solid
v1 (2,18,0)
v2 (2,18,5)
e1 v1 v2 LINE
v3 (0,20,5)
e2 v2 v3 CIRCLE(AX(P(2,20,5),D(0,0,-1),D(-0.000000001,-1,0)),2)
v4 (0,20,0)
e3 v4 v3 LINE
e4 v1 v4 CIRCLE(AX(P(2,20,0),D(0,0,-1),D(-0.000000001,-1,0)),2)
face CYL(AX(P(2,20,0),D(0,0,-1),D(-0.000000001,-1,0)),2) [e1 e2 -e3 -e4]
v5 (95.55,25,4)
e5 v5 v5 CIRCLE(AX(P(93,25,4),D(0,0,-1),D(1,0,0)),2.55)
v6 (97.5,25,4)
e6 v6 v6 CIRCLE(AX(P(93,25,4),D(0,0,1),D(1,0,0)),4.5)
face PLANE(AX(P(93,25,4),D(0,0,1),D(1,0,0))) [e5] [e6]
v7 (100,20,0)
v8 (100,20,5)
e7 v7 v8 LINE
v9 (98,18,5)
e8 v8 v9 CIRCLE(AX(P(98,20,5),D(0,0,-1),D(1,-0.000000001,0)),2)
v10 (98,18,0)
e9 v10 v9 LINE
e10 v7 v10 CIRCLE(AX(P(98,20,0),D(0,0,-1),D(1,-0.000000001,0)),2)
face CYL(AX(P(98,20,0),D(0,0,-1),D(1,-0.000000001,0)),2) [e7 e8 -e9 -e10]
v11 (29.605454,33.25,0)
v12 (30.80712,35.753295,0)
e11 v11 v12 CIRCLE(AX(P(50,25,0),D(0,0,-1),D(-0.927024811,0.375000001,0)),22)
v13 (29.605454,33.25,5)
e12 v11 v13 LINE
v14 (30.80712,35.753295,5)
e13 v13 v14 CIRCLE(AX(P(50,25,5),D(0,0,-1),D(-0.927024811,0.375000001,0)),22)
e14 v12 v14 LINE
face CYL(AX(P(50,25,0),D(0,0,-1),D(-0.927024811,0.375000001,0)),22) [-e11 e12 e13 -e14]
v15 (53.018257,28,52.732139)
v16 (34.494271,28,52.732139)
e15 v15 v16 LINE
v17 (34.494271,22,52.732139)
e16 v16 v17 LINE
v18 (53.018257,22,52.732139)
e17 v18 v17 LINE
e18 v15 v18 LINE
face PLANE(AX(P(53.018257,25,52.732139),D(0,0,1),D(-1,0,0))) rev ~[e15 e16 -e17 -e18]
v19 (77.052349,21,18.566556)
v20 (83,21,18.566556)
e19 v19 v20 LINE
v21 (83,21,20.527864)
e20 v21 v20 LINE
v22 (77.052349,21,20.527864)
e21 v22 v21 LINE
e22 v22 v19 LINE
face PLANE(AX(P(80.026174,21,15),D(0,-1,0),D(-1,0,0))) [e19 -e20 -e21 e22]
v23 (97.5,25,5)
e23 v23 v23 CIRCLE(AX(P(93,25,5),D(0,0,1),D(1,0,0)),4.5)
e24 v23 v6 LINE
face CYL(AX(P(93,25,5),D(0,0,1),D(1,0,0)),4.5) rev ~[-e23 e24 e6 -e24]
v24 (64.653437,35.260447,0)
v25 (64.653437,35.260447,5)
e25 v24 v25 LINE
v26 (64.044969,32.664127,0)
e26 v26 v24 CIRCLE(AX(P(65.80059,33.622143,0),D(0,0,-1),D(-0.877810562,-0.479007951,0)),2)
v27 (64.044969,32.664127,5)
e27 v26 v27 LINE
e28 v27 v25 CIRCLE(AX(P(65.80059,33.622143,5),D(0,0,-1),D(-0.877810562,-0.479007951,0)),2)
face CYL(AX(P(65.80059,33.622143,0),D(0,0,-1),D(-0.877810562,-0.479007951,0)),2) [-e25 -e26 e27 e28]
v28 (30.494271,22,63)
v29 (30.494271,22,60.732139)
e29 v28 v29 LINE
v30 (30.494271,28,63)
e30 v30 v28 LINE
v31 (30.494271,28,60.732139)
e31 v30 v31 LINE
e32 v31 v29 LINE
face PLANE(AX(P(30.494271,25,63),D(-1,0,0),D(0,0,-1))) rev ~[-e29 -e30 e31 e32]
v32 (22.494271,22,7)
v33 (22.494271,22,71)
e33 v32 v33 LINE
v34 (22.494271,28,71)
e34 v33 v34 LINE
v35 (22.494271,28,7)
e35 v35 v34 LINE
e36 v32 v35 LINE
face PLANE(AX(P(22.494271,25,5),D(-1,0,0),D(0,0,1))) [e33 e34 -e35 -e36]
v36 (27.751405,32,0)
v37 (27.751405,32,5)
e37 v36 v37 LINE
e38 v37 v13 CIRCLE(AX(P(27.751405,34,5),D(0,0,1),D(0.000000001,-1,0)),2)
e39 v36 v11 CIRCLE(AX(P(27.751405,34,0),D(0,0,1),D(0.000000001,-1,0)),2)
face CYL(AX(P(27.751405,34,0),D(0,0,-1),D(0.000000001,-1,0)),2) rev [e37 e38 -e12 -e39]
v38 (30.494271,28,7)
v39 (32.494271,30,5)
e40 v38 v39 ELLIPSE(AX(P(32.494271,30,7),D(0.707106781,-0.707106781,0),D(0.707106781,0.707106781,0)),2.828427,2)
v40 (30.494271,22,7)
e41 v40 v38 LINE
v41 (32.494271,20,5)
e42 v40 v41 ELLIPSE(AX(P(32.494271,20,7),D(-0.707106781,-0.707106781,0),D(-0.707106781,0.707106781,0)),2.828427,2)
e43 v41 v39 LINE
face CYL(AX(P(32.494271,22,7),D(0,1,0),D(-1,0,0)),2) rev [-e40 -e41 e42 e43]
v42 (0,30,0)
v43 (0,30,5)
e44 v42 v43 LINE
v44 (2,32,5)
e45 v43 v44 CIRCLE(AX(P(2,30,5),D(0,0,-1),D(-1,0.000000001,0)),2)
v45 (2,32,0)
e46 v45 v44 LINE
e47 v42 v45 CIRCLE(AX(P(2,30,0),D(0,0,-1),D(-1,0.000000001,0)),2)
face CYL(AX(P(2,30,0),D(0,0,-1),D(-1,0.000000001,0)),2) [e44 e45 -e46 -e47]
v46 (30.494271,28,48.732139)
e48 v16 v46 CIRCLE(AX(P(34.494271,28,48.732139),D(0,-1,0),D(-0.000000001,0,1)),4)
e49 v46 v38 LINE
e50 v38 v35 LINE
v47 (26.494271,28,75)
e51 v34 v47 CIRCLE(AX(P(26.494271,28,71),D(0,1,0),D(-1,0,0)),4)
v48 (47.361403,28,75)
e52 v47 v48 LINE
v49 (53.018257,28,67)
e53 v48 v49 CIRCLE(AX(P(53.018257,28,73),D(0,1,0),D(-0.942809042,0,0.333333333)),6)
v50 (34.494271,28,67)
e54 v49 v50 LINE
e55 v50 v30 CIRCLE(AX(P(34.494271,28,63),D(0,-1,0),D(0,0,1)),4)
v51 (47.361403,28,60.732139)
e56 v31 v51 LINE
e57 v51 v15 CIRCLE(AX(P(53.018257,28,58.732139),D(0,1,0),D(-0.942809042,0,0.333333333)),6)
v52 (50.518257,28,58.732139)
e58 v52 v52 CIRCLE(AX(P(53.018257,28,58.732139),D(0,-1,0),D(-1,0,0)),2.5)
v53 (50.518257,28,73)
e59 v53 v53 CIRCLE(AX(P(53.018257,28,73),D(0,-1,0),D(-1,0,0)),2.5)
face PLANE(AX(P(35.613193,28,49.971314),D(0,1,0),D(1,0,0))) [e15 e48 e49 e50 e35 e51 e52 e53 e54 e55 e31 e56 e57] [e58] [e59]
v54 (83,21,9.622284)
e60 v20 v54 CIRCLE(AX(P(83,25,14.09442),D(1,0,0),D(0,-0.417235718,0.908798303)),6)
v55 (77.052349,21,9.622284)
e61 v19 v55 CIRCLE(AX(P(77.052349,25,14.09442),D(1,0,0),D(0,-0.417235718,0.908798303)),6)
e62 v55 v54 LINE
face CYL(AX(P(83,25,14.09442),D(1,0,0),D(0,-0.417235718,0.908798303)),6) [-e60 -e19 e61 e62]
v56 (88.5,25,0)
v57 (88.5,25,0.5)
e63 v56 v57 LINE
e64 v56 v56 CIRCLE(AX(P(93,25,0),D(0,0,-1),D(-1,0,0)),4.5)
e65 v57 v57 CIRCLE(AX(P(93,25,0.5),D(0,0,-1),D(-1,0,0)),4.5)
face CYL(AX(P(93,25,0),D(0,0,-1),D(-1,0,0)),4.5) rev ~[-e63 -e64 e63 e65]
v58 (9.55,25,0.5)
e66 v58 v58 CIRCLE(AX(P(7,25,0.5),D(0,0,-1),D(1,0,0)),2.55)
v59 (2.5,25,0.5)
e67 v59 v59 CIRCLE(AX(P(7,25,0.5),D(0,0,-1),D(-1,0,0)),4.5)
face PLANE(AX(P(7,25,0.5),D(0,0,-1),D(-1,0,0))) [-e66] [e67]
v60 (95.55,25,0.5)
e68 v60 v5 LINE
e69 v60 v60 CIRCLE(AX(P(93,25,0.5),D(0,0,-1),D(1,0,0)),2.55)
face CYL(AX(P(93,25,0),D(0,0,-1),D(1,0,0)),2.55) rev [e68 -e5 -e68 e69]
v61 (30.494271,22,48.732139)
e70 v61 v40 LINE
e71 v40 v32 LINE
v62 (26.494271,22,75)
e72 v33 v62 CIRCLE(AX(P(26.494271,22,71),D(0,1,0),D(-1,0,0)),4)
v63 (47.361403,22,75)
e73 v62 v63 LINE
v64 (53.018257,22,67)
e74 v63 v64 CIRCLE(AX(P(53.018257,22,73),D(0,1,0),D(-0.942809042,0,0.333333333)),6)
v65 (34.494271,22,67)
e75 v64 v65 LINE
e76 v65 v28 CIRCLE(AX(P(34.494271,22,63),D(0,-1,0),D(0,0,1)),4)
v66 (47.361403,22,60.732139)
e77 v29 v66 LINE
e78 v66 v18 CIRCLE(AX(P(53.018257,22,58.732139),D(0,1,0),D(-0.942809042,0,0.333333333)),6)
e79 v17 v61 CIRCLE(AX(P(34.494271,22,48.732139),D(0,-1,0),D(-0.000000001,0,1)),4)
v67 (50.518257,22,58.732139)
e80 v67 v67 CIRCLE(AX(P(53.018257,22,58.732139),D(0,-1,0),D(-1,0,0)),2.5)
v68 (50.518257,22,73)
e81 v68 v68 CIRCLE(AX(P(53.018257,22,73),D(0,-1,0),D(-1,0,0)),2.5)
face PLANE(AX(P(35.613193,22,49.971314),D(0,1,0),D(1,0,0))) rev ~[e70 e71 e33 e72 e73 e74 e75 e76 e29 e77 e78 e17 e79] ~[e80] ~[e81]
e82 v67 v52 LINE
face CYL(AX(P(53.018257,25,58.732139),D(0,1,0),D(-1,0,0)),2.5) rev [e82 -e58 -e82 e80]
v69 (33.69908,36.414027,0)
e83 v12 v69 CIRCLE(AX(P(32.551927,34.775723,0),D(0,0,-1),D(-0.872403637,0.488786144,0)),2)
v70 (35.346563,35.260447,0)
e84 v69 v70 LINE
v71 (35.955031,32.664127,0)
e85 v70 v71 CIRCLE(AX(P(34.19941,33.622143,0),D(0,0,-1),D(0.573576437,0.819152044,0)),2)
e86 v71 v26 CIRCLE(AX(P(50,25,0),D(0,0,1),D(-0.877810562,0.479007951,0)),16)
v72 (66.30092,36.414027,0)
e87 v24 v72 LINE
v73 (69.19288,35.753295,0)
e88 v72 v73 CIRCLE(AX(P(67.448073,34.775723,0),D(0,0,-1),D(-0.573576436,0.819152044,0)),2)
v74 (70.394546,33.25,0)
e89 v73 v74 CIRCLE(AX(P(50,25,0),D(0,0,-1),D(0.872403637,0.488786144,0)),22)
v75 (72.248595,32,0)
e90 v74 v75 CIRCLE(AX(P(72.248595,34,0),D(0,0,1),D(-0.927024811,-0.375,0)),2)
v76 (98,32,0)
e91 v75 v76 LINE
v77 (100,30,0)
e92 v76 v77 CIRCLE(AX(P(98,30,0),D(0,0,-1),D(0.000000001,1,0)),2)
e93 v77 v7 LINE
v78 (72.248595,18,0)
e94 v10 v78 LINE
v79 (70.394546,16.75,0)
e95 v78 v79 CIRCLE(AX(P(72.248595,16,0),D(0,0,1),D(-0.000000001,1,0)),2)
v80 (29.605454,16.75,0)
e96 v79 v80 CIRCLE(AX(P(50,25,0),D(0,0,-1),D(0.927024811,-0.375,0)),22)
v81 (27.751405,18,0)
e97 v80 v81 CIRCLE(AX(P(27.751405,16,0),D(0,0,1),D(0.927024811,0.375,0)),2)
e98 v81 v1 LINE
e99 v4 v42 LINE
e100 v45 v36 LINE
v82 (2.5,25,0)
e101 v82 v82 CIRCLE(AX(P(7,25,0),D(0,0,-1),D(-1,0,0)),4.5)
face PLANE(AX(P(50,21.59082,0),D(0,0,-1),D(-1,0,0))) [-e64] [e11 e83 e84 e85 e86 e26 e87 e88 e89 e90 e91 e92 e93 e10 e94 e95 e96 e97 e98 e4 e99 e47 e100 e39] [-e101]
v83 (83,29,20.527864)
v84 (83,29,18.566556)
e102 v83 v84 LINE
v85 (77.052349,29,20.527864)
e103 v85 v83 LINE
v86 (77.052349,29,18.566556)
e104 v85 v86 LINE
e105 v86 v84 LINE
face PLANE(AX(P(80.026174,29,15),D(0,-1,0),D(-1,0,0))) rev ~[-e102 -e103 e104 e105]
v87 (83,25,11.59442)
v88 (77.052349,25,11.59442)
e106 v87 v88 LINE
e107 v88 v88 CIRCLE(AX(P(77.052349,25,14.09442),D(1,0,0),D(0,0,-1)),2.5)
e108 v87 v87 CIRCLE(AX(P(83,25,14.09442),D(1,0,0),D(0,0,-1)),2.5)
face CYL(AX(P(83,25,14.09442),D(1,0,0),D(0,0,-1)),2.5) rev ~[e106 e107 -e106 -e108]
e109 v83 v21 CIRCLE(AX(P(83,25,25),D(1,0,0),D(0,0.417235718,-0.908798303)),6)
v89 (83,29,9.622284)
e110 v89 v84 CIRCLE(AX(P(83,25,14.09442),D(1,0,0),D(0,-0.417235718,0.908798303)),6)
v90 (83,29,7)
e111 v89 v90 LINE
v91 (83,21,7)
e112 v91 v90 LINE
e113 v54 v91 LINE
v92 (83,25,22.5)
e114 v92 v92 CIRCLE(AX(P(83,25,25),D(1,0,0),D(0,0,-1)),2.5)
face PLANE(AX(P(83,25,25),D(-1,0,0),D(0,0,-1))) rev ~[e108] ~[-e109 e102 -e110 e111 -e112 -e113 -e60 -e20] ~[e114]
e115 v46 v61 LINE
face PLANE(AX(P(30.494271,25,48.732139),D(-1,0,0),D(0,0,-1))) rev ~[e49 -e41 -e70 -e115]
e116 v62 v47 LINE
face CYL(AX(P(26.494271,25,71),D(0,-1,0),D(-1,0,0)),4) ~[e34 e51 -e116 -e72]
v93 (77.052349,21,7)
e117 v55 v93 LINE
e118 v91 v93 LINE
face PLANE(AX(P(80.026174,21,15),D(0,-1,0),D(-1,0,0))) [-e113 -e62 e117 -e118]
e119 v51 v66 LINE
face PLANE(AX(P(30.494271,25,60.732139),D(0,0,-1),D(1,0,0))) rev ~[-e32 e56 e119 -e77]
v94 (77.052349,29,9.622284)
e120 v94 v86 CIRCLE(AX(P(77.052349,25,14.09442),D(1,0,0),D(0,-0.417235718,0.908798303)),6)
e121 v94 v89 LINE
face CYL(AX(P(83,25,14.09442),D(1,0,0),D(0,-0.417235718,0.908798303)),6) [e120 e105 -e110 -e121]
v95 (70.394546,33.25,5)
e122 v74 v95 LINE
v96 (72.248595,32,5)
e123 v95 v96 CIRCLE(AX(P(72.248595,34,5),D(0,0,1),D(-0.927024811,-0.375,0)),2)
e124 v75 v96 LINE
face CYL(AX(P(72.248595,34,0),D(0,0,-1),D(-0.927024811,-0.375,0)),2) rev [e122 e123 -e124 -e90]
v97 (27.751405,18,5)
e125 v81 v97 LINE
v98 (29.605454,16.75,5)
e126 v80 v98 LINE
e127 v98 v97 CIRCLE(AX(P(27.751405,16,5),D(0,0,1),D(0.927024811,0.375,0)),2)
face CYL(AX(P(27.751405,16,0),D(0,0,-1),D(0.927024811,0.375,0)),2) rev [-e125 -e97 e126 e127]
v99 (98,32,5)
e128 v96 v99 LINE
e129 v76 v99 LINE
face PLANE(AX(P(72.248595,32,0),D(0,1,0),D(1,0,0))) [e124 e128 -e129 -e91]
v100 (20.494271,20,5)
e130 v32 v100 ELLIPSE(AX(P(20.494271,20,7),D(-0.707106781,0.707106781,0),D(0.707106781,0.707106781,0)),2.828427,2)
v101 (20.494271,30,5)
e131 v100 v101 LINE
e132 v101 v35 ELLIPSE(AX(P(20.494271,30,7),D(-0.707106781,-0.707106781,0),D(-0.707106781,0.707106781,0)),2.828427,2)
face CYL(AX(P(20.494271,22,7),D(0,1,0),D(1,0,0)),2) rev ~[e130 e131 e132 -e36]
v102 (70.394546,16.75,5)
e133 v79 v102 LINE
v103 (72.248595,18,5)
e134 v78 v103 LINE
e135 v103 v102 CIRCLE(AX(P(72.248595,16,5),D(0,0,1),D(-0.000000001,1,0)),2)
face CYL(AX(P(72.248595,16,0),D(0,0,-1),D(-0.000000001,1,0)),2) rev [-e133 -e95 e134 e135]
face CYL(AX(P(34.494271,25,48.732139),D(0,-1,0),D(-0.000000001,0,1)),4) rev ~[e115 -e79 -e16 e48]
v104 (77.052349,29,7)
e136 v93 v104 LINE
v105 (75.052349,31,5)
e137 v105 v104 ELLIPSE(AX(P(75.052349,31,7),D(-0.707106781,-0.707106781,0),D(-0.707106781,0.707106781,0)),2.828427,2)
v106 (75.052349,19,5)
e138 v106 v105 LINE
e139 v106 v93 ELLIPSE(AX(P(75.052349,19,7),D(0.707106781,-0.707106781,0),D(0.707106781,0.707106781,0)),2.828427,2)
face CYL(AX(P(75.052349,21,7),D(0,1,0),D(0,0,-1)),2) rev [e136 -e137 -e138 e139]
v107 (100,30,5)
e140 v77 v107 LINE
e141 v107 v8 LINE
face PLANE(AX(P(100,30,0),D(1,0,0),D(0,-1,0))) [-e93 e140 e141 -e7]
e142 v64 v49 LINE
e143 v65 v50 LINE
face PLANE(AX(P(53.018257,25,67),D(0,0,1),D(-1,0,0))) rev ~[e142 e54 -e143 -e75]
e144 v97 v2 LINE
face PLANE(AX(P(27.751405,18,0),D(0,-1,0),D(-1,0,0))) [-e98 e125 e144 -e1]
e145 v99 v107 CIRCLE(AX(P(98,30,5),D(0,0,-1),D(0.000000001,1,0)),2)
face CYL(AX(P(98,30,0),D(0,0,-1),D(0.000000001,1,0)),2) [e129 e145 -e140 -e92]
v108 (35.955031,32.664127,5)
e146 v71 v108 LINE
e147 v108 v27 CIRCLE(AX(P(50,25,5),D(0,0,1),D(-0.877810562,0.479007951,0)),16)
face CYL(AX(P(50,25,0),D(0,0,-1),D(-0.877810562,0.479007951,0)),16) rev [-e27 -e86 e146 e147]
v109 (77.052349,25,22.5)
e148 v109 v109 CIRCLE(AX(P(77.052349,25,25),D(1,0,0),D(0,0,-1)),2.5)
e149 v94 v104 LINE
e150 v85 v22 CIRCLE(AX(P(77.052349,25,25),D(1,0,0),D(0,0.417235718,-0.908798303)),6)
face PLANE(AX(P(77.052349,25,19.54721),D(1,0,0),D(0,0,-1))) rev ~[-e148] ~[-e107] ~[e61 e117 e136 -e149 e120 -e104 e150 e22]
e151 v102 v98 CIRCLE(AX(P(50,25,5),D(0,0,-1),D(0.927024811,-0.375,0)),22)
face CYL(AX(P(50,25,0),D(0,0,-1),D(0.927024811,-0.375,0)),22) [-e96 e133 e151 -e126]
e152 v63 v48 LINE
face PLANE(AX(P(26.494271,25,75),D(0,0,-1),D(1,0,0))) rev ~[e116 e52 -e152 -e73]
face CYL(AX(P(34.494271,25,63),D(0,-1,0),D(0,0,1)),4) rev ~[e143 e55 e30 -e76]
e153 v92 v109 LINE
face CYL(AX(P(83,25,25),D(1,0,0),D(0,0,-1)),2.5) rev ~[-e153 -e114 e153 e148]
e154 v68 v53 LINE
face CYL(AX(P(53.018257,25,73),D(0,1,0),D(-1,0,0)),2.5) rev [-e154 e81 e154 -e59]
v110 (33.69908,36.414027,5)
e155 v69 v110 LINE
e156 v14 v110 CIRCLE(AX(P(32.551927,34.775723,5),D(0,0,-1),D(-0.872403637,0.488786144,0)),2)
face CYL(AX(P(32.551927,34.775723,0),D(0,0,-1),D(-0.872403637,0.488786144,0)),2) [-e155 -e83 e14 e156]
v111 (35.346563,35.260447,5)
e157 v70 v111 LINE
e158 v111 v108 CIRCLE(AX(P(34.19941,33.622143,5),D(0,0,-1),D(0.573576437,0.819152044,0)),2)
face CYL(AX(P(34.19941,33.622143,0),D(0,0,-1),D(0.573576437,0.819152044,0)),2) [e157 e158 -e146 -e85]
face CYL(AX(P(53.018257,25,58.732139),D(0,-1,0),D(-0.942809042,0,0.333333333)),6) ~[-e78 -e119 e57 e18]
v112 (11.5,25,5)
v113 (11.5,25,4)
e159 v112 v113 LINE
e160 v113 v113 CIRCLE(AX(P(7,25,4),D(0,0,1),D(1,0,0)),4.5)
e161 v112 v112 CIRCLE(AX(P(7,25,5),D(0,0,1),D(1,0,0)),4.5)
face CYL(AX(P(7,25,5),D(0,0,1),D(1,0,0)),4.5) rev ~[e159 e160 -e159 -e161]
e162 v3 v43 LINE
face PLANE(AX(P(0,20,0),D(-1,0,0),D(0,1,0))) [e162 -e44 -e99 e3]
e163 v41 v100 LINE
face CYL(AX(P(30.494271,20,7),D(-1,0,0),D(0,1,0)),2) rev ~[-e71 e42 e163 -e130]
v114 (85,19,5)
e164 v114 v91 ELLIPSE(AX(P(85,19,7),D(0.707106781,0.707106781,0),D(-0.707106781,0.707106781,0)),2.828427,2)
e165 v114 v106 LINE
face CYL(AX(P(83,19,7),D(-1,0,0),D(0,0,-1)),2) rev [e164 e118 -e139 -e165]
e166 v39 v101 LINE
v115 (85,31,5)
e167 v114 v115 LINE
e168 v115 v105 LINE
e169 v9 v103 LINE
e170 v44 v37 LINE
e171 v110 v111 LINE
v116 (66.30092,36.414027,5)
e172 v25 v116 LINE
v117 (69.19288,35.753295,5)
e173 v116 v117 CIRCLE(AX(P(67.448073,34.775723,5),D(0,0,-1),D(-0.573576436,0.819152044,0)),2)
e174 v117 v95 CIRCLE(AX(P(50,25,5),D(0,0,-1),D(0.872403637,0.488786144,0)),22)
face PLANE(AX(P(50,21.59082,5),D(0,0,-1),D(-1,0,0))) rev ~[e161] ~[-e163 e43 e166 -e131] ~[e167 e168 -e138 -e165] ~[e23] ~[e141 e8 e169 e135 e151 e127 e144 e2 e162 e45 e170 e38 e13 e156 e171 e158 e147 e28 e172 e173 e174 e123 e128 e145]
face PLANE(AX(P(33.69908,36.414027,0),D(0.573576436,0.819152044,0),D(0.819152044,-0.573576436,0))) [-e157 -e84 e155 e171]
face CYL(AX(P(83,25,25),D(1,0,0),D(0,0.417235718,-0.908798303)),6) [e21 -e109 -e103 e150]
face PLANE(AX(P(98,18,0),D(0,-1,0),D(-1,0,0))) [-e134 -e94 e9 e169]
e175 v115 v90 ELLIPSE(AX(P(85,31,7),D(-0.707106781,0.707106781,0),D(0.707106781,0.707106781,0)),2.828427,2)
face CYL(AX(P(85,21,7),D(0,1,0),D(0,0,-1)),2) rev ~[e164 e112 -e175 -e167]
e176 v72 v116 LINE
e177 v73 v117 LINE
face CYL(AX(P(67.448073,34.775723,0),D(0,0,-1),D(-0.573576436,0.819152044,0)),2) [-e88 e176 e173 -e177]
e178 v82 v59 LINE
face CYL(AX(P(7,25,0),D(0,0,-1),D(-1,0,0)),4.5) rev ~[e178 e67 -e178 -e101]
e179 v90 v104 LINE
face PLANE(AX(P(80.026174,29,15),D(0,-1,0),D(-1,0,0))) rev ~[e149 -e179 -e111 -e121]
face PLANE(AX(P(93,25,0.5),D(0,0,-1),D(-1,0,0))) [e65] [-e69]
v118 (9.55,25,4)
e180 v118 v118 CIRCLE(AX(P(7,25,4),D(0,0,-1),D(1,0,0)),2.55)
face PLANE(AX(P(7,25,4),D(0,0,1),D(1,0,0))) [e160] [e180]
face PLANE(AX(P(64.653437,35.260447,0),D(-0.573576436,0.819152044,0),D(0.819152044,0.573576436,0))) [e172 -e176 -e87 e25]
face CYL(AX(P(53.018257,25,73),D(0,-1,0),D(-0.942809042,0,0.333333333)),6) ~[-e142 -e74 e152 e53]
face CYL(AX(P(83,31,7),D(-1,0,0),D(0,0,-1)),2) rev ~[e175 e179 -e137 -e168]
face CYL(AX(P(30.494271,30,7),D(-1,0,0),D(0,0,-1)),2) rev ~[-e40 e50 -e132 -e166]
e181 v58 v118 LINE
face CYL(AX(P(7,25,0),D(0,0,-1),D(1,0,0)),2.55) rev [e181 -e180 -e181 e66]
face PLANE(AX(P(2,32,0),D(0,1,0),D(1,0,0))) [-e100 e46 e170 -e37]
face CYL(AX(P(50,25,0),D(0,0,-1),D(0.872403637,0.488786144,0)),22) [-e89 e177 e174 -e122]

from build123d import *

# Parameters (mm, degrees)
SKETCH1_R                = 2.55
BOSS_EXTRUDE1_DEPTH      = 5
SKETCH4_R                = 4.5
CUT_EXTRUDE2_DEPTH       = 1
SKETCH6_W                = 5.947651005
SKETCH6_H                = 20
BOSS_EXTRUDE2_DEPTH      = 4
BOSS_EXTRUDE2_DEPTH_BACK = 4
SKETCH11_R               = 4.5
CUT_EXTRUDE3_DEPTH       = 0.5
SKETCH16_R               = 2.5
BOSS_EXTRUDE3_DEPTH      = 3
BOSS_EXTRUDE3_DEPTH_BACK = 3
FILLET3_R                = 2
BOSS_EXTRUDE4_DEPTH      = 5.947651
CUT_EXTRUDE5_REACH       = 85
SKETCH18_R               = 2.5


with BuildPart() as part:
    # Sketch1 → Boss-Extrude1 (new body)
    with BuildSketch(Plane.XY):
        with BuildLine():
            Line((100, 25), (100, 20))
            ThreePointArc((100, 20), (99.414213562, 18.585786438), (98, 18))
            Line((98, 18), (72.248595461, 18))
            ThreePointArc((72.248595461, 18), (71.130561473, 17.658312395), (70.39454584, 16.75))
            ThreePointArc((70.39454584, 16.75), (50, 3), (29.60545416, 16.75))
            ThreePointArc((29.60545416, 16.75), (28.869438527, 17.658312395), (27.751404539, 18))
            Line((27.751404539, 18), (2, 18))
            ThreePointArc((2, 18), (0.585786438, 18.585786438), (0, 20))
            Line((0, 20), (0, 25))
            Line((0, 25), (0, 30))
            ThreePointArc((0, 30), (0.585786438, 31.414213562), (2, 32))
            Line((2, 32), (21.056240945, 32))
            Line((21.056240945, 32), (27.751404539, 32))
            ThreePointArc((27.751404539, 32), (28.869438527, 32.341687605), (29.60545416, 33.25))
            ThreePointArc((29.60545416, 33.25), (30.166752838, 34.520625347), (30.807119991, 35.753295167))
            ThreePointArc((30.807119991, 35.753295167), (32.106461975, 36.725482012), (33.699080137, 36.414026968))
            Line((33.699080137, 36.414026968), (35.34656276, 35.260447216))
            ThreePointArc((35.34656276, 35.260447216), (36.146649881, 34.078494315), (35.955031011, 32.664127224))
            ThreePointArc((35.955031011, 32.664127224), (50, 9), (64.044968989, 32.664127224))
            ThreePointArc((64.044968989, 32.664127224), (63.853350119, 34.078494315), (64.65343724, 35.260447216))
            Line((64.65343724, 35.260447216), (66.300919863, 36.414026968))
            ThreePointArc((66.300919863, 36.414026968), (67.893538025, 36.725482012), (69.192880009, 35.753295167))
            ThreePointArc((69.192880009, 35.753295167), (69.833247162, 34.520625347), (70.39454584, 33.25))
            ThreePointArc((70.39454584, 33.25), (71.130561473, 32.341687605), (72.248595461, 32))
            Line((72.248595461, 32), (78.943759055, 32))
            Line((78.943759055, 32), (98, 32))
            ThreePointArc((98, 32), (99.414213562, 31.414213562), (100, 30))
            Line((100, 30), (100, 25))
        make_face()
        with Locations((93, 25)):
            Circle(SKETCH1_R, mode=Mode.SUBTRACT)
        with Locations((7, 25)):
            Circle(SKETCH1_R, mode=Mode.SUBTRACT)
    extrude(amount=BOSS_EXTRUDE1_DEPTH)

    # Sketch4 → Cut-Extrude2 (cut)
    with BuildSketch(Plane.XY.offset(5)):
        with Locations((93, 25)):
            Circle(SKETCH4_R)
        with Locations((7, 25)):
            Circle(SKETCH4_R)
    extrude(amount=-CUT_EXTRUDE2_DEPTH, mode=Mode.SUBTRACT)

    # Sketch6 → Boss-Extrude2 (add, two sides)
    with BuildSketch(Plane(origin=(0, 25, 0), x_dir=(-1, 0, 0), z_dir=(0, -1, 0))) as boss_extrude2_sk:
        with Locations((-80.026174497, -15)):
            Rectangle(SKETCH6_W, SKETCH6_H)
    extrude(amount=BOSS_EXTRUDE2_DEPTH)
    extrude(boss_extrude2_sk.sketch, amount=-BOSS_EXTRUDE2_DEPTH_BACK)

    # Sketch11 → Cut-Extrude3 (cut)
    with BuildSketch(Plane(origin=(0, 0, 0), x_dir=(-1, 0, 0), z_dir=(0, 0, -1))):
        with Locations((-93, 25)):
            Circle(SKETCH11_R)
        with Locations((-7, 25)):
            Circle(SKETCH11_R)
    extrude(amount=-CUT_EXTRUDE3_DEPTH, mode=Mode.SUBTRACT)

    # Sketch16 → Boss-Extrude3 (add, two sides)
    with BuildSketch(Plane(origin=(0, 25, 0), x_dir=(-1, 0, 0), z_dir=(0, -1, 0))) as boss_extrude3_sk:
        with BuildLine():
            Line((-30.494270905, -5), (-22.494270905, -5))
            Line((-22.494270905, -5), (-22.494270905, -71))
            ThreePointArc((-22.494270905, -71), (-23.665843781, -73.828427125), (-26.494270905, -75))
            Line((-26.494270905, -75), (-30.494270905, -75))
            Line((-30.494270905, -75), (-47.361403242, -75))
            ThreePointArc((-47.361403242, -75), (-57.917236977, -76.464101615), (-53.018257491, -67))
            Line((-53.018257491, -67), (-34.494270905, -67))
            ThreePointArc((-34.494270905, -67), (-31.665843781, -65.828427125), (-30.494270905, -63))
            Line((-30.494270905, -63), (-30.494270905, -60.732138804))
            Line((-30.494270905, -60.732138804), (-47.361403242, -60.732138804))
            ThreePointArc((-47.361403242, -60.732138804), (-57.917236977, -62.196240419), (-53.018257491, -52.732138804))
            Line((-53.018257491, -52.732138804), (-34.494270905, -52.732138804))
            ThreePointArc((-34.494270905, -52.732138804), (-31.665843781, -51.560565928), (-30.494270905, -48.732138804))
            Line((-30.494270905, -48.732138804), (-30.494270905, -5))
        make_face()
        with Locations((-53.018257491, -73)):
            Circle(SKETCH16_R, mode=Mode.SUBTRACT)
        with Locations((-53.018257491, -58.732138804)):
            Circle(SKETCH16_R, mode=Mode.SUBTRACT)
    extrude(amount=BOSS_EXTRUDE3_DEPTH)
    extrude(boss_extrude3_sk.sketch, amount=-BOSS_EXTRUDE3_DEPTH_BACK)

    # Fillet3
    fillet3_edges = [part.edges().sort_by_distance(p)[0] for p in [
        (83, 25, 5),
        (80.026174498, 29, 5),
        (77.052348995, 25, 5),
        (80.026174498, 21, 5),
        (30.494270905, 25, 5),
        (26.494270905, 28, 5),
        (22.494270905, 25, 5),
        (26.494270905, 22, 5),
    ]]
    fillet(fillet3_edges, radius=FILLET3_R)

    # Sketch17 → Boss-Extrude4 (add)
    with BuildSketch(Plane(origin=(83, 0, 0), x_dir=(0, 0, -1), z_dir=(1, 0, 0))):
        with BuildLine():
            ThreePointArc((-19.547210182, 27.503414308), (-31, 25), (-19.547210182, 22.496585692))
            ThreePointArc((-19.547210182, 22.496585692), (-8.094420363, 25), (-19.547210182, 27.503414308))
        make_face()
    extrude(amount=-BOSS_EXTRUDE4_DEPTH)

    # Sketch18 → Cut-Extrude5 (cut, up to next)
    with BuildSketch(Plane(origin=(83, 0, 0), x_dir=(0, 0, -1), z_dir=(1, 0, 0)), mode=Mode.PRIVATE) as cut_extrude5_sk1:
        with Locations((-25, 25)):
            Circle(SKETCH18_R)
    cut_extrude5_tool1 = extrude(cut_extrude5_sk1.sketch, amount=-CUT_EXTRUDE5_REACH, mode=Mode.PRIVATE) & part.part
    add(cut_extrude5_tool1.solids().sort_by_distance((83, 25, 25))[0], mode=Mode.SUBTRACT)
    # Sketch18 → Cut-Extrude5 (cut, up to next)
    with BuildSketch(Plane(origin=(83, 0, 0), x_dir=(0, 0, -1), z_dir=(1, 0, 0)), mode=Mode.PRIVATE) as cut_extrude5_sk2:
        with Locations((-14.094420363, 25)):
            Circle(SKETCH18_R)
    cut_extrude5_tool2 = extrude(cut_extrude5_sk2.sketch, amount=-CUT_EXTRUDE5_REACH, mode=Mode.PRIVATE) & part.part
    add(cut_extrude5_tool2.solids().sort_by_distance((83, 25, 14.09442))[0], mode=Mode.SUBTRACT)


solid = part.part
